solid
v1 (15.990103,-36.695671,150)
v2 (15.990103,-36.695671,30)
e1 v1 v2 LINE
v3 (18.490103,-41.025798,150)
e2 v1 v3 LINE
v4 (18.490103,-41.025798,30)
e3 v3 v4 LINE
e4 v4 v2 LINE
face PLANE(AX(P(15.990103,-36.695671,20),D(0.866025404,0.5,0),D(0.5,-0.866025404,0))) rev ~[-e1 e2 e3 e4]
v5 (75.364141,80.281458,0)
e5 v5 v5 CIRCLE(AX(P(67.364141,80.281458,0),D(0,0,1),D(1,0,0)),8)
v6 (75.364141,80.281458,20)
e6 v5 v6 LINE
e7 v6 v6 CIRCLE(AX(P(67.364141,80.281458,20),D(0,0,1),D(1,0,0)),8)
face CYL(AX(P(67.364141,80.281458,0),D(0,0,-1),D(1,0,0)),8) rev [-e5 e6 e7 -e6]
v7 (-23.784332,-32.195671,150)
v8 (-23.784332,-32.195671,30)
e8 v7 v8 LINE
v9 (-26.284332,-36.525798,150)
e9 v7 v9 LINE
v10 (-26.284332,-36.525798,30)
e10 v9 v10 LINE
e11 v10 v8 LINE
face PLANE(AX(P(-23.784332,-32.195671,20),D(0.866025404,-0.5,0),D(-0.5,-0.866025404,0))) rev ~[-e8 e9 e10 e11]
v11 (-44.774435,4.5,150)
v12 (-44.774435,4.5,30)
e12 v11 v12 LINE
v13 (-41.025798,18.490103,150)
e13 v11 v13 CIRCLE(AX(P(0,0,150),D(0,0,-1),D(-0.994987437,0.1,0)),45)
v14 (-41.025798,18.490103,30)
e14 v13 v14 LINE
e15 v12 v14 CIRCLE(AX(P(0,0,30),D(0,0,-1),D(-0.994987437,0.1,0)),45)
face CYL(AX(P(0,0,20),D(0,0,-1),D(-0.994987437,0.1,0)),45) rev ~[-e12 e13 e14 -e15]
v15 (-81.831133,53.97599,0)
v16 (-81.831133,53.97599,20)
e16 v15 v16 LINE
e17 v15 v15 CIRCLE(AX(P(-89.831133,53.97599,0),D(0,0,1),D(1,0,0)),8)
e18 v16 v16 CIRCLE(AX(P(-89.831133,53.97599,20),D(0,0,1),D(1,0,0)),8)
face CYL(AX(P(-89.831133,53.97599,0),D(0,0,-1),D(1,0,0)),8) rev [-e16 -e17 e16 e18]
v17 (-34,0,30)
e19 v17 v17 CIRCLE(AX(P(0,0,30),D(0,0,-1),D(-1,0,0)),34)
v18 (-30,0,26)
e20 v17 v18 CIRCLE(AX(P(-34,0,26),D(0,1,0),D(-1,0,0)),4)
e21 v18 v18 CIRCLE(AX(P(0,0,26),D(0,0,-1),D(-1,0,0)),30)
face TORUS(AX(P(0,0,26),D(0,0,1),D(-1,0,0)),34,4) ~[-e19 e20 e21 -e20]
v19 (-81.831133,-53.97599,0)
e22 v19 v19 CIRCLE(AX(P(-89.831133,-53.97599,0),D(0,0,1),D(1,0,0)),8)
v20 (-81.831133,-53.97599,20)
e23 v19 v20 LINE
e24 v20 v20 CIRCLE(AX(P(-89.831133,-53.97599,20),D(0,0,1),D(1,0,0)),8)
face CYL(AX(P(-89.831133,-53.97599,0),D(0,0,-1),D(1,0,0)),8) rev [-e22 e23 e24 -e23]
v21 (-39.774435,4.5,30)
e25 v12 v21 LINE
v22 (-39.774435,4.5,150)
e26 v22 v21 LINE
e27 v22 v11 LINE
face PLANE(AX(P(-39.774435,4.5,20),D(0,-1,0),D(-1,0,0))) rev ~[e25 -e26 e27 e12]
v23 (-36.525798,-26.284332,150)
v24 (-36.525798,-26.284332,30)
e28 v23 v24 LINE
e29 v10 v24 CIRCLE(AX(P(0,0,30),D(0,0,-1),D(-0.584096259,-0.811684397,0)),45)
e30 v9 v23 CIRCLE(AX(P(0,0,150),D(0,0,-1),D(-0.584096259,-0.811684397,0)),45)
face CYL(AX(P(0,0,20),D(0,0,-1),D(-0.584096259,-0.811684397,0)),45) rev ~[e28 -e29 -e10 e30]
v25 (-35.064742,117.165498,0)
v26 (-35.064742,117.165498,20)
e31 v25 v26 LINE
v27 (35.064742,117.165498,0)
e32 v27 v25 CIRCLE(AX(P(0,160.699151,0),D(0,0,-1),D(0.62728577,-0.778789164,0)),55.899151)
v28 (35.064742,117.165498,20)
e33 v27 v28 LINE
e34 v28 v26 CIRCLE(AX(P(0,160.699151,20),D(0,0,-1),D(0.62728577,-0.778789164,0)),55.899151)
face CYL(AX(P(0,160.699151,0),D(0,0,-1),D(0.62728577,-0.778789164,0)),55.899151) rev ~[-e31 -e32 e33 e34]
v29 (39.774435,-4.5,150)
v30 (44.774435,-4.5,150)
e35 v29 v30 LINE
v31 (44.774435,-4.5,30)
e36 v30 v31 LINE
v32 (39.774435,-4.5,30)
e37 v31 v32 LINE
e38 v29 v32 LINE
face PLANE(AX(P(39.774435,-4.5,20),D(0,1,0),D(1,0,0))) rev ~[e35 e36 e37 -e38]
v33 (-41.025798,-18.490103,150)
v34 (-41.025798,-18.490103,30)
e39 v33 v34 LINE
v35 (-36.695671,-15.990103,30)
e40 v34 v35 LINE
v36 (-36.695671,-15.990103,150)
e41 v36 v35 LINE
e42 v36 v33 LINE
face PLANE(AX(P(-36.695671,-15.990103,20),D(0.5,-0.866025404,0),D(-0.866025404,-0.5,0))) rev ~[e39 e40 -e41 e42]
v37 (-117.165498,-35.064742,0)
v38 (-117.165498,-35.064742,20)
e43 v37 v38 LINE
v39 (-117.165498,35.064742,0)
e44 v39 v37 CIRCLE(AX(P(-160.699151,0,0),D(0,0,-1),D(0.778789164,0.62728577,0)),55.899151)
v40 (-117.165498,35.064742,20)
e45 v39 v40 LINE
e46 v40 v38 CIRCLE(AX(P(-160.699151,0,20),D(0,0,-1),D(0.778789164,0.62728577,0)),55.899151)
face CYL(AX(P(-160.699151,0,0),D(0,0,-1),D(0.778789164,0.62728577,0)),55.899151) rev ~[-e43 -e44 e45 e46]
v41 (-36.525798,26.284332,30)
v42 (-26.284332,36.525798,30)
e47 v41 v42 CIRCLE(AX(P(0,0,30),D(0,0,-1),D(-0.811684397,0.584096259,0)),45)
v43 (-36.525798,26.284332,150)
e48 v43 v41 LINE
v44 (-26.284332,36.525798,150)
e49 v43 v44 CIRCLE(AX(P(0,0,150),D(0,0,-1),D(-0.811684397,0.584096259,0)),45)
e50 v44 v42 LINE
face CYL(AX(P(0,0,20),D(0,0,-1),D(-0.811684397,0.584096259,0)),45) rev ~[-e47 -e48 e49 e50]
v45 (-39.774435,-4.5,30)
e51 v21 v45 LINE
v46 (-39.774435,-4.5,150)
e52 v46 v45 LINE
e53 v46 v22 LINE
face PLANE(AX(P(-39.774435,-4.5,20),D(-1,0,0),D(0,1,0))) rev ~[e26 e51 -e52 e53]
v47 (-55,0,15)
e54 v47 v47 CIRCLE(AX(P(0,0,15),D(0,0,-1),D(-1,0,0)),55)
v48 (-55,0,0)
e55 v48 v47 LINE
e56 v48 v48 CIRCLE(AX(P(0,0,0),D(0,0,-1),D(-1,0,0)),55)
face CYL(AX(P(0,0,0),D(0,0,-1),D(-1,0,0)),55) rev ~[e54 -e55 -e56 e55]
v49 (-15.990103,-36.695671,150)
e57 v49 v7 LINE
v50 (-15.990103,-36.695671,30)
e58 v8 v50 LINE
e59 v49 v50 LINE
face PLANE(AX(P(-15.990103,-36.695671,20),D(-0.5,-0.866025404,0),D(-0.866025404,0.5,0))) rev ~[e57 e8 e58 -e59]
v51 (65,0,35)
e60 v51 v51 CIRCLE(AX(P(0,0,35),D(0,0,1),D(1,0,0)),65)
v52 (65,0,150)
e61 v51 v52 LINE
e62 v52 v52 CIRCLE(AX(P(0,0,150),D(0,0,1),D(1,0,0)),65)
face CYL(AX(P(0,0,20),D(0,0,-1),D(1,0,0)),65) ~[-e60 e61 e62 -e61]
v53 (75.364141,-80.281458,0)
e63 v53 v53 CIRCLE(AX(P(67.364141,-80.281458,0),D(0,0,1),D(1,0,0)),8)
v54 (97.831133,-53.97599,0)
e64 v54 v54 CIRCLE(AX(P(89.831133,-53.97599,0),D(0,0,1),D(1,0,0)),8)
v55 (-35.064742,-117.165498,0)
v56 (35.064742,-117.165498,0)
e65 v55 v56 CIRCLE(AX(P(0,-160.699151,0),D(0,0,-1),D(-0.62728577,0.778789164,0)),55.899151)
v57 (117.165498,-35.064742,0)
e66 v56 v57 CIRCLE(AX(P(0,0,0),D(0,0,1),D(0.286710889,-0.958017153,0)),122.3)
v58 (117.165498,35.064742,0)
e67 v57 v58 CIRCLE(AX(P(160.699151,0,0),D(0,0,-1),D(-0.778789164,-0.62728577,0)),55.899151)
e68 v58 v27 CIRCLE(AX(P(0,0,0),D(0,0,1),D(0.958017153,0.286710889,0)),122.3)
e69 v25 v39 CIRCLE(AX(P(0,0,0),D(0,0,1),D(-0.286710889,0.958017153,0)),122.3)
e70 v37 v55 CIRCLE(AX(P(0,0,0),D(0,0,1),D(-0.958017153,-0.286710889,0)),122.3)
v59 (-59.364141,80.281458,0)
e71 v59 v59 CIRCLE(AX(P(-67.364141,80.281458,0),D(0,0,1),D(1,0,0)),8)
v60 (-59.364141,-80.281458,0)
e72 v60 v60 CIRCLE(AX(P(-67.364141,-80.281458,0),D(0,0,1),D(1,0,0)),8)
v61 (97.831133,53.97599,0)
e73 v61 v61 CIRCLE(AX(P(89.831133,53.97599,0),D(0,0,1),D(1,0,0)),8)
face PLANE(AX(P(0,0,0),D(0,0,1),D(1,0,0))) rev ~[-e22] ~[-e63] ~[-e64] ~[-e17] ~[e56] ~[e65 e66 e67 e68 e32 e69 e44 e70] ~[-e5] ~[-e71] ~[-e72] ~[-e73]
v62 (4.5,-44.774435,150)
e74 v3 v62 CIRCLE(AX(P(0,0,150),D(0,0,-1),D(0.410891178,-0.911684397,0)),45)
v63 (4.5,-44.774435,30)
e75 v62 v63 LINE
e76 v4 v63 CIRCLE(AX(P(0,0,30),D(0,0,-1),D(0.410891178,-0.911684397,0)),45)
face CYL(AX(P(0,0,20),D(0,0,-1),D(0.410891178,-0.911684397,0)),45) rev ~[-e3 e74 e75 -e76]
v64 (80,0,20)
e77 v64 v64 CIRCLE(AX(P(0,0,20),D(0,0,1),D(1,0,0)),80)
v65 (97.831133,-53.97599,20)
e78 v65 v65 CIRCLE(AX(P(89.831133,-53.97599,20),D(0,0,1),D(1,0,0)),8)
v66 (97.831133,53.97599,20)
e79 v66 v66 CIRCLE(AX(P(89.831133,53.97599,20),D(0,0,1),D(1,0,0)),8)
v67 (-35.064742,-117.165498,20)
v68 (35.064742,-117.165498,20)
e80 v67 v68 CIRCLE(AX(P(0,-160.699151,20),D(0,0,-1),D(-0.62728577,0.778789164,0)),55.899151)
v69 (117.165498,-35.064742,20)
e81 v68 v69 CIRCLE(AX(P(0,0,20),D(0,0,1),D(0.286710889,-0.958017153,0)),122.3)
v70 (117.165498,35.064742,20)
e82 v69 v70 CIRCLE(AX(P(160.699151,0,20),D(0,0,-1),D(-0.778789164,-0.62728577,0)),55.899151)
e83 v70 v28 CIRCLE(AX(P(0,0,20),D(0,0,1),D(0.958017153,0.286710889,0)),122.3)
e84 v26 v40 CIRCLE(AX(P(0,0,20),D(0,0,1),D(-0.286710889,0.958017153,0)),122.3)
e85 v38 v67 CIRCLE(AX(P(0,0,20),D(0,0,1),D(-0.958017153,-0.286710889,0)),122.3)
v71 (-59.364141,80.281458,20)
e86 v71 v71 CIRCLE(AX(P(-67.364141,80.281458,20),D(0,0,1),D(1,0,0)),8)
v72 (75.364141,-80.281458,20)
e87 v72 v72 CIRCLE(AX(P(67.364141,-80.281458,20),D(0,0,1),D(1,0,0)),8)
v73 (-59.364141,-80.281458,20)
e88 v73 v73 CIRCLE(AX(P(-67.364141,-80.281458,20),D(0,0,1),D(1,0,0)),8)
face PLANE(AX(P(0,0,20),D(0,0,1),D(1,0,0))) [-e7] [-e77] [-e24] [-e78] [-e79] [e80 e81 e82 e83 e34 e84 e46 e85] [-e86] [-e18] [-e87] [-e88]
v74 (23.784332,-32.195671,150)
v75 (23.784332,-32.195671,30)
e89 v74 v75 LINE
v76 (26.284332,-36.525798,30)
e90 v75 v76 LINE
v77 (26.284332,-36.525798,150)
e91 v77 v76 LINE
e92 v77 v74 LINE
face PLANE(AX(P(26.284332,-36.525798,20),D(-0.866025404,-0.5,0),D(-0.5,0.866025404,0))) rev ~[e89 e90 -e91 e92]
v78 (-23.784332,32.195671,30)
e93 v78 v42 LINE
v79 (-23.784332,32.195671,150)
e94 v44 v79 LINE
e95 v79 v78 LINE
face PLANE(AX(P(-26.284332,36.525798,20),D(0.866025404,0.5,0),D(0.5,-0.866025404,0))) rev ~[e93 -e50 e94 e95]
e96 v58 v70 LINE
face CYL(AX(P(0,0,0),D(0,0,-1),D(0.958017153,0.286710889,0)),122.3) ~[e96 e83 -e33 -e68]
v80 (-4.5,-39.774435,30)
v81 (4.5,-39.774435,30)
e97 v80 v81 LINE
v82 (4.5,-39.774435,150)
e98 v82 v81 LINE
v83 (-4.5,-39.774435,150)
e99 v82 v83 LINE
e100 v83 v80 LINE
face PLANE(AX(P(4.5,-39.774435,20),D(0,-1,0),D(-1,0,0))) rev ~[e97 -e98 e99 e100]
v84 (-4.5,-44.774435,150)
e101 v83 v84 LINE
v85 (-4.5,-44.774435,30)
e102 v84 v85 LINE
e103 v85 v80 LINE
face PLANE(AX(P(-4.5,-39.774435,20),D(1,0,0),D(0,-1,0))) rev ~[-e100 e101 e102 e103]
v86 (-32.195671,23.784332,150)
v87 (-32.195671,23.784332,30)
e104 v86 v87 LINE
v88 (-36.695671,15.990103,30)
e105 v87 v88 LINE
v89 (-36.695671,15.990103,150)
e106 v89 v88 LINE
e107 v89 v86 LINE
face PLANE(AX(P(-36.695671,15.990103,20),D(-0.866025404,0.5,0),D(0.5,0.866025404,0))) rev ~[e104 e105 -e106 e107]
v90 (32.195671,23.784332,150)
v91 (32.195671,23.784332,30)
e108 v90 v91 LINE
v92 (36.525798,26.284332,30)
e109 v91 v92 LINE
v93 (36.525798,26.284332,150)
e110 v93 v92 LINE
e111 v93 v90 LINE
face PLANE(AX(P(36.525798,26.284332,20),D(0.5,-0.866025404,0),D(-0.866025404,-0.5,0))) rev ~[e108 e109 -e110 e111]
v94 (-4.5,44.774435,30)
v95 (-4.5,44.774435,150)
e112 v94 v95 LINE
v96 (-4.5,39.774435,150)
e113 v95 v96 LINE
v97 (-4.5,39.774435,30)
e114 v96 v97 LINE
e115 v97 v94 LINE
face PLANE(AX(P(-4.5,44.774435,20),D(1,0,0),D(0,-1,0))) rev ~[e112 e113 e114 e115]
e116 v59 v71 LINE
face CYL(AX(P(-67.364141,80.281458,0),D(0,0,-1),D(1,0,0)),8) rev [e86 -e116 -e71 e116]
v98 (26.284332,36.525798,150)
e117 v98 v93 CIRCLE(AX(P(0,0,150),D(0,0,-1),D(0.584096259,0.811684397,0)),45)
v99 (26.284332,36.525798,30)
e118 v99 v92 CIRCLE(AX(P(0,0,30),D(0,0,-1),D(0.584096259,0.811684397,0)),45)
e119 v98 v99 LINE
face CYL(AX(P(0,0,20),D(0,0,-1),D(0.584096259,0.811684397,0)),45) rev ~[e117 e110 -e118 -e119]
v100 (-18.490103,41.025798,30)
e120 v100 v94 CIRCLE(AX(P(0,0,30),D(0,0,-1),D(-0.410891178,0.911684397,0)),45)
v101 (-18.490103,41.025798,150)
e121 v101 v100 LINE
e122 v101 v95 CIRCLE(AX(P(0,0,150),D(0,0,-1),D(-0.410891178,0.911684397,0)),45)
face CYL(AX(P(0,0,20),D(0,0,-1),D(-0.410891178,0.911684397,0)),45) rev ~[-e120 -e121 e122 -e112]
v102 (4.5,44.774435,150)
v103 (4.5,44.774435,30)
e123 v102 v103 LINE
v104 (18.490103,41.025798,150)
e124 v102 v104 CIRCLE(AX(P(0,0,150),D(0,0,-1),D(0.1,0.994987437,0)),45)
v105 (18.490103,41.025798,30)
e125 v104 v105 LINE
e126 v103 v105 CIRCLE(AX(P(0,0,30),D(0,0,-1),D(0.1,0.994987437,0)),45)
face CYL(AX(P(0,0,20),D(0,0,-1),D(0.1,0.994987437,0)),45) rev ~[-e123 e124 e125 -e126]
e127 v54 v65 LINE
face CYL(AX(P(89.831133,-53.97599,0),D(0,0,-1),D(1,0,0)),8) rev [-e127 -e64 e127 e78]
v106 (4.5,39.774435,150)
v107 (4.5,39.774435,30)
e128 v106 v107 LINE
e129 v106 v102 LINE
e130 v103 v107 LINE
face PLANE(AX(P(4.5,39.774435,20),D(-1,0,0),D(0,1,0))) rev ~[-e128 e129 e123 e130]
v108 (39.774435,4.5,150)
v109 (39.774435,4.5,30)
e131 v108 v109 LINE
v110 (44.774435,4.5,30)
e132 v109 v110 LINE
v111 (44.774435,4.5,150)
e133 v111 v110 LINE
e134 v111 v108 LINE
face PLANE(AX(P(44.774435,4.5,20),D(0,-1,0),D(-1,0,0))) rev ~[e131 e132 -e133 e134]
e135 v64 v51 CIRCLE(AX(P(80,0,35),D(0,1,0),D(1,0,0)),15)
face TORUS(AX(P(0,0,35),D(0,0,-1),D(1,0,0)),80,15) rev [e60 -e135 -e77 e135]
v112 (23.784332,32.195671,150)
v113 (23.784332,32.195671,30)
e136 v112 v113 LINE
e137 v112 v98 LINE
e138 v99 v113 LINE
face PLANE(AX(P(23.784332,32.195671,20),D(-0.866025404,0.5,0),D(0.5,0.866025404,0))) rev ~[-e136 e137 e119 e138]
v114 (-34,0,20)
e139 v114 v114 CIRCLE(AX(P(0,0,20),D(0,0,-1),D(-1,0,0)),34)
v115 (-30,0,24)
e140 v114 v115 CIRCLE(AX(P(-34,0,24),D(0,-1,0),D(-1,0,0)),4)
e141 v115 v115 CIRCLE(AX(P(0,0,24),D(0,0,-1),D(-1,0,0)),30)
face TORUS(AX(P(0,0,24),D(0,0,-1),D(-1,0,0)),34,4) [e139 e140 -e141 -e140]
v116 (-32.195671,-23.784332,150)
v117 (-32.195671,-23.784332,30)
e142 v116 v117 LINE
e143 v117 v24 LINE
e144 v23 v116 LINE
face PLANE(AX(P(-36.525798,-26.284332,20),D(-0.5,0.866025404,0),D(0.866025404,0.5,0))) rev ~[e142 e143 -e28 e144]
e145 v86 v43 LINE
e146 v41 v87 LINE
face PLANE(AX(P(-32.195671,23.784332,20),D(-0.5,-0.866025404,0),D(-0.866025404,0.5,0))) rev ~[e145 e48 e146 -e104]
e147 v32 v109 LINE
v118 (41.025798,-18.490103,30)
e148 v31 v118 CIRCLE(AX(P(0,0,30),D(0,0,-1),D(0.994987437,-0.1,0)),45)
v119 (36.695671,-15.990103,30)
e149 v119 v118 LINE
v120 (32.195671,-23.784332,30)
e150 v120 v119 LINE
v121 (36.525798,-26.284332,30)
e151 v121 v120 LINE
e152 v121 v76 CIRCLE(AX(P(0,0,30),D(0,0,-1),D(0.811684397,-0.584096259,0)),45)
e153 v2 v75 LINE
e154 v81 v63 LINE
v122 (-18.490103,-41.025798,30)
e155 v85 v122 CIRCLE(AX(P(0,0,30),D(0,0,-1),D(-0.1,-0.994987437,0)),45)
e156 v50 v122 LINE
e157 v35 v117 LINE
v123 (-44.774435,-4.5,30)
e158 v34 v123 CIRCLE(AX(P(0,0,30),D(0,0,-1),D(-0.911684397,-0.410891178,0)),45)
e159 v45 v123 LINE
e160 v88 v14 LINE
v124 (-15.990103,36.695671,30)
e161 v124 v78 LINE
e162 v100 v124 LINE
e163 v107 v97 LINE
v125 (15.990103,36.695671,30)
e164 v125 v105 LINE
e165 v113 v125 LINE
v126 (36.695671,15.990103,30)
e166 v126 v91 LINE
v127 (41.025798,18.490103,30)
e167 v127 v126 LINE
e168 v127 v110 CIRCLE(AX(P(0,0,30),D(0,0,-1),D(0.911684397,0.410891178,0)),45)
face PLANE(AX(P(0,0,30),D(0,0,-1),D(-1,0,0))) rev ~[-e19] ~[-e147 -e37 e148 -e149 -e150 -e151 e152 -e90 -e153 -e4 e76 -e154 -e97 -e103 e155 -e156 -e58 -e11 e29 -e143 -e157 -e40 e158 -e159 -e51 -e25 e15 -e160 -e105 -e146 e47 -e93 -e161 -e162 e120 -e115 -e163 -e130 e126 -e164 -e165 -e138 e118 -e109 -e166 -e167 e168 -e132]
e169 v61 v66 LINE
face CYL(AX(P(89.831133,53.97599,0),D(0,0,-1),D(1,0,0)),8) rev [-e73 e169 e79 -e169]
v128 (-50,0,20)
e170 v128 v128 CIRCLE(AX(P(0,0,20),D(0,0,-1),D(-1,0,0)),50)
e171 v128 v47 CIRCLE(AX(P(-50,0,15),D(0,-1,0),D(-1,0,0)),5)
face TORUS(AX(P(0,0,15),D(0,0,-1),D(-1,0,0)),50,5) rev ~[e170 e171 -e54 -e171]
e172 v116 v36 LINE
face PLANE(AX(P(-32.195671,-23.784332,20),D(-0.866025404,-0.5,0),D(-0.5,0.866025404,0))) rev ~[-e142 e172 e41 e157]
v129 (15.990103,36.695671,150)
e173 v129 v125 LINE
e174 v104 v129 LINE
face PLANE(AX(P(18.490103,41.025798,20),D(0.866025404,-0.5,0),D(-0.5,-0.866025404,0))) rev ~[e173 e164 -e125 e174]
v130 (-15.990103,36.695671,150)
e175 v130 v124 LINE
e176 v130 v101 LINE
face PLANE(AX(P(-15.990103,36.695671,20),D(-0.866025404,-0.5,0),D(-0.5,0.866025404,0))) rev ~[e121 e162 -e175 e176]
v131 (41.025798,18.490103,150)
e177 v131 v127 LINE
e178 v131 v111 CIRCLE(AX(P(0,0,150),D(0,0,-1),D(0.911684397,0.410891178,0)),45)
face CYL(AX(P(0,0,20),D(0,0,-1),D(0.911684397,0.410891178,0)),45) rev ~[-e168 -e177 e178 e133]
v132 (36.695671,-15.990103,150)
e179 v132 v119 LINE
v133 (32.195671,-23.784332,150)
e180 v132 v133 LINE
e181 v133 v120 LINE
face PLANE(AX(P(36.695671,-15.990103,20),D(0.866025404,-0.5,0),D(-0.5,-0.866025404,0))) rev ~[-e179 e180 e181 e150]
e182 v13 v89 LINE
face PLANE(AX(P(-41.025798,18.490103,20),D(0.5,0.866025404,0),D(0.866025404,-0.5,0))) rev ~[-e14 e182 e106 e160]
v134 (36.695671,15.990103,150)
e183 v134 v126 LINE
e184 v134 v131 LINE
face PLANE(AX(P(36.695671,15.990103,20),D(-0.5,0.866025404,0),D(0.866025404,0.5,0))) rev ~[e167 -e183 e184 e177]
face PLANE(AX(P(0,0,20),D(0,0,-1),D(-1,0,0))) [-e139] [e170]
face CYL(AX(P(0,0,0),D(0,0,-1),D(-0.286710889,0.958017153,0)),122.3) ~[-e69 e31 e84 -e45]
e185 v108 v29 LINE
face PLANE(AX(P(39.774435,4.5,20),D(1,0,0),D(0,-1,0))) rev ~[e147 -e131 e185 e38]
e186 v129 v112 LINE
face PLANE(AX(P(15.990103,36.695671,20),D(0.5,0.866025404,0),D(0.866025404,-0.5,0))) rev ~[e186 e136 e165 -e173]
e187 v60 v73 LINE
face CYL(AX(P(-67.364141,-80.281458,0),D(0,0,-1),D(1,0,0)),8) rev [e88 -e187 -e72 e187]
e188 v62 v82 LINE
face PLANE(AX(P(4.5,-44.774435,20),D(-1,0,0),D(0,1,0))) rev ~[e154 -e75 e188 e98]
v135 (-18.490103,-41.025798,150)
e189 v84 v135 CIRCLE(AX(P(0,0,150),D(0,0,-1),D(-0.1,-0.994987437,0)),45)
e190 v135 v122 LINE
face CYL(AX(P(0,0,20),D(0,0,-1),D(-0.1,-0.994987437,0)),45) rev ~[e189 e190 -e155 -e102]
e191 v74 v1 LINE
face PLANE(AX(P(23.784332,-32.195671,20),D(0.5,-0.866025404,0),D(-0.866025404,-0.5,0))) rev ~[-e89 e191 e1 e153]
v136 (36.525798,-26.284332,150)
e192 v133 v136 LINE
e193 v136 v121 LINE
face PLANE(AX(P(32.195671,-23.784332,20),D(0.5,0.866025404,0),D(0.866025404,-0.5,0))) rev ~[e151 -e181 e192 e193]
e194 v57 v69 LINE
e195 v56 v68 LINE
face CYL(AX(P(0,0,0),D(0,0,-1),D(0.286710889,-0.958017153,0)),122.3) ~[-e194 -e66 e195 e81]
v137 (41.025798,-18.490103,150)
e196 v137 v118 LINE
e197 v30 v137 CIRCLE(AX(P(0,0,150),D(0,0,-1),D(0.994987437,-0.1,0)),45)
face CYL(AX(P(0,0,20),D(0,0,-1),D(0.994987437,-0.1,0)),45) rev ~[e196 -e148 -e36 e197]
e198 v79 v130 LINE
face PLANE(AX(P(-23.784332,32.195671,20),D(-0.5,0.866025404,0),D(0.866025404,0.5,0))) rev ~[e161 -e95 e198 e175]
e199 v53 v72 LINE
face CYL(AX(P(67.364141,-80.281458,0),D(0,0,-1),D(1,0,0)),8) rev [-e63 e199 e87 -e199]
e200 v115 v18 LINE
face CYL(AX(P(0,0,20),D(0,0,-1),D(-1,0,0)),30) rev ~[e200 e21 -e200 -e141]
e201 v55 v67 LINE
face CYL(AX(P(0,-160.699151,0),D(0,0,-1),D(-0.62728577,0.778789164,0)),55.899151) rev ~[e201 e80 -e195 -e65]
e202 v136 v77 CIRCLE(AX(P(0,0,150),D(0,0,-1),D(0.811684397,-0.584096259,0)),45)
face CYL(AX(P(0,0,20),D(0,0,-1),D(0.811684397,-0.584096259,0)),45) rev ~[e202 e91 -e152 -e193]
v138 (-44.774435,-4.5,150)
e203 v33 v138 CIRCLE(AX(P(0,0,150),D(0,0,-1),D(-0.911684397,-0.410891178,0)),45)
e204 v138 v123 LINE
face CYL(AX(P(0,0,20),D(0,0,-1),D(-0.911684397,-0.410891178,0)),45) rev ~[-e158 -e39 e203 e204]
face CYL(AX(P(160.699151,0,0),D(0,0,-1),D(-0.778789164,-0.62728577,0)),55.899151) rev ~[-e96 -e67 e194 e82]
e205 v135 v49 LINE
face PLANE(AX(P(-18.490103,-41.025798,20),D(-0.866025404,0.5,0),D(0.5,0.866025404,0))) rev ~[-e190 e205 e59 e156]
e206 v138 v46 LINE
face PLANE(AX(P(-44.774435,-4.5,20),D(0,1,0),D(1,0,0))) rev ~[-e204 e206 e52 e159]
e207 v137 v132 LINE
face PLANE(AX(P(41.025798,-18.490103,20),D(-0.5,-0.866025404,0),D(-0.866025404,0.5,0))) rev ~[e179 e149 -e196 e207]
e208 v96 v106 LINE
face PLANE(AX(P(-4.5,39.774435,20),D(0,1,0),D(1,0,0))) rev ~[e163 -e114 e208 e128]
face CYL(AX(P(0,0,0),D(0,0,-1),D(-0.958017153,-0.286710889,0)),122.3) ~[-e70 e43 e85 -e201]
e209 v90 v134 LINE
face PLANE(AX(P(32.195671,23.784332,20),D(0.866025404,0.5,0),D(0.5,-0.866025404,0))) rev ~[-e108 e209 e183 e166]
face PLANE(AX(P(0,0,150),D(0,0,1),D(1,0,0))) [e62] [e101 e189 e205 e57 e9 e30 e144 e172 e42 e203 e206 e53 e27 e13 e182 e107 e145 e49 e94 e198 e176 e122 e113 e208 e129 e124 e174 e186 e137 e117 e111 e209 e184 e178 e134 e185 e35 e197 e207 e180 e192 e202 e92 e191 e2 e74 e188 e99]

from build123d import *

# Parameters (mm, degrees)
SKETCH1_R           = 8
BOSS_EXTRUDE1_DEPTH = 20
BOSS_EXTRUDE2_START = 20
SKETCH1_3_R         = 65
BOSS_EXTRUDE2_DEPTH = 130
SKETCH2_R           = 55
SKETCH2_R_2         = 30
CUT_EXTRUDE1_DEPTH  = 20
BOSS_EXTRUDE3_START = -20
SKETCH2_2_R         = 55
SKETCH2_2_R_2       = 30
BOSS_EXTRUDE3_DEPTH = 10
FILLET1_R           = 15
FILLET2_R           = 4
FILLET3_R           = 5


with BuildPart() as part:
    # Sketch1 → Boss-Extrude1 (new body)
    with BuildSketch(Plane.XY):
        with BuildLine():
            ThreePointArc((117.165497838, -35.064741783), (104.8, 0), (117.165497838, 35.064741783))
            ThreePointArc((117.165497838, 35.064741783), (86.479159339, 86.479159339), (35.064741783, 117.165497838))
            ThreePointArc((35.064741783, 117.165497838), (0, 104.8), (-35.064741783, 117.165497838))
            ThreePointArc((-35.064741783, 117.165497838), (-86.479159339, 86.479159339), (-117.165497838, 35.064741783))
            ThreePointArc((-117.165497838, 35.064741783), (-104.8, 0), (-117.165497838, -35.064741783))
            ThreePointArc((-117.165497838, -35.064741783), (-86.479159339, -86.479159339), (-35.064741783, -117.165497838))
            ThreePointArc((-35.064741783, -117.165497838), (0, -104.8), (35.064741783, -117.165497838))
            ThreePointArc((35.064741783, -117.165497838), (86.479159339, -86.479159339), (117.165497838, -35.064741783))
        make_face()
        with Locations((-67.364141495, -80.281457639)):
            Circle(SKETCH1_R, mode=Mode.SUBTRACT)
        with Locations((-89.831133114, -53.975990251)):
            Circle(SKETCH1_R, mode=Mode.SUBTRACT)
        with Locations((67.364141495, -80.281457639)):
            Circle(SKETCH1_R, mode=Mode.SUBTRACT)
        with Locations((89.831133114, -53.975990251)):
            Circle(SKETCH1_R, mode=Mode.SUBTRACT)
        with Locations((-89.831133114, 53.975990251)):
            Circle(SKETCH1_R, mode=Mode.SUBTRACT)
        with Locations((-67.364141495, 80.281457639)):
            Circle(SKETCH1_R, mode=Mode.SUBTRACT)
        with Locations((89.831133114, 53.975990251)):
            Circle(SKETCH1_R, mode=Mode.SUBTRACT)
        with Locations((67.364141495, 80.281457639)):
            Circle(SKETCH1_R, mode=Mode.SUBTRACT)
        with BuildLine():
            Line((-4.5, 44.77443467), (-4.5, 39.77443467))
            Line((-4.5, 39.77443467), (4.5, 39.77443467))
            Line((4.5, 39.77443467), (4.5, 44.77443467))
            ThreePointArc((4.5, 44.77443467), (11.64685703, 43.466662183), (18.490103018, 41.025797864))
            Line((18.490103018, 41.025797864), (15.990103018, 36.695670845))
            Line((15.990103018, 36.695670845), (23.784331652, 32.195670845))
            Line((23.784331652, 32.195670845), (26.284331652, 36.525797864))
            ThreePointArc((26.284331652, 36.525797864), (31.819805153, 31.819805153), (36.525797864, 26.284331652))
            Line((36.525797864, 26.284331652), (32.195670845, 23.784331652))
            Line((32.195670845, 23.784331652), (36.695670845, 15.990103018))
            Line((36.695670845, 15.990103018), (41.025797864, 18.490103018))
            ThreePointArc((41.025797864, 18.490103018), (43.466662183, 11.64685703), (44.77443467, 4.5))
            Line((44.77443467, 4.5), (39.77443467, 4.5))
            Line((39.77443467, 4.5), (39.77443467, -4.5))
            Line((39.77443467, -4.5), (44.77443467, -4.5))
            ThreePointArc((44.77443467, -4.5), (43.466662183, -11.64685703), (41.025797864, -18.490103018))
            Line((41.025797864, -18.490103018), (36.695670845, -15.990103018))
            Line((36.695670845, -15.990103018), (32.195670845, -23.784331652))
            Line((32.195670845, -23.784331652), (36.525797864, -26.284331652))
            ThreePointArc((36.525797864, -26.284331652), (31.819805153, -31.819805153), (26.284331652, -36.525797864))
            Line((26.284331652, -36.525797864), (23.784331652, -32.195670845))
            Line((23.784331652, -32.195670845), (15.990103018, -36.695670845))
            Line((15.990103018, -36.695670845), (18.490103018, -41.025797864))
            ThreePointArc((18.490103018, -41.025797864), (11.64685703, -43.466662183), (4.5, -44.77443467))
            Line((4.5, -44.77443467), (4.5, -39.77443467))
            Line((4.5, -39.77443467), (-4.5, -39.77443467))
            Line((-4.5, -39.77443467), (-4.5, -44.77443467))
            ThreePointArc((-4.5, -44.77443467), (-11.64685703, -43.466662183), (-18.490103018, -41.025797864))
            Line((-18.490103018, -41.025797864), (-15.990103018, -36.695670845))
            Line((-15.990103018, -36.695670845), (-23.784331652, -32.195670845))
            Line((-23.784331652, -32.195670845), (-26.284331652, -36.525797864))
            ThreePointArc((-26.284331652, -36.525797864), (-31.819805153, -31.819805153), (-36.525797864, -26.284331652))
            Line((-36.525797864, -26.284331652), (-32.195670845, -23.784331652))
            Line((-32.195670845, -23.784331652), (-36.695670845, -15.990103018))
            Line((-36.695670845, -15.990103018), (-41.025797864, -18.490103018))
            ThreePointArc((-41.025797864, -18.490103018), (-43.466662183, -11.64685703), (-44.77443467, -4.5))
            Line((-44.77443467, -4.5), (-39.77443467, -4.5))
            Line((-39.77443467, -4.5), (-39.77443467, 4.5))
            Line((-39.77443467, 4.5), (-44.77443467, 4.5))
            ThreePointArc((-44.77443467, 4.5), (-43.466662183, 11.64685703), (-41.025797864, 18.490103018))
            Line((-41.025797864, 18.490103018), (-36.695670845, 15.990103018))
            Line((-36.695670845, 15.990103018), (-32.195670845, 23.784331652))
            Line((-32.195670845, 23.784331652), (-36.525797864, 26.284331652))
            ThreePointArc((-36.525797864, 26.284331652), (-31.819805153, 31.819805153), (-26.284331652, 36.525797864))
            Line((-26.284331652, 36.525797864), (-23.784331652, 32.195670845))
            Line((-23.784331652, 32.195670845), (-15.990103018, 36.695670845))
            Line((-15.990103018, 36.695670845), (-18.490103018, 41.025797864))
            ThreePointArc((-18.490103018, 41.025797864), (-11.64685703, 43.466662183), (-4.5, 44.77443467))
        make_face(mode=Mode.SUBTRACT)
    extrude(amount=BOSS_EXTRUDE1_DEPTH)

    # Sketch1<3> → Boss-Extrude2 (add)
    with BuildSketch(Plane.XY.offset(BOSS_EXTRUDE2_START)):
        Circle(SKETCH1_3_R)
        with BuildLine():
            Line((-4.5, 44.77443467), (-4.5, 39.77443467))
            Line((-4.5, 39.77443467), (4.5, 39.77443467))
            Line((4.5, 39.77443467), (4.5, 44.77443467))
            ThreePointArc((4.5, 44.77443467), (11.64685703, 43.466662183), (18.490103018, 41.025797864))
            Line((18.490103018, 41.025797864), (15.990103018, 36.695670845))
            Line((15.990103018, 36.695670845), (23.784331652, 32.195670845))
            Line((23.784331652, 32.195670845), (26.284331652, 36.525797864))
            ThreePointArc((26.284331652, 36.525797864), (31.819805153, 31.819805153), (36.525797864, 26.284331652))
            Line((36.525797864, 26.284331652), (32.195670845, 23.784331652))
            Line((32.195670845, 23.784331652), (36.695670845, 15.990103018))
            Line((36.695670845, 15.990103018), (41.025797864, 18.490103018))
            ThreePointArc((41.025797864, 18.490103018), (43.466662183, 11.64685703), (44.77443467, 4.5))
            Line((44.77443467, 4.5), (39.77443467, 4.5))
            Line((39.77443467, 4.5), (39.77443467, -4.5))
            Line((39.77443467, -4.5), (44.77443467, -4.5))
            ThreePointArc((44.77443467, -4.5), (43.466662183, -11.64685703), (41.025797864, -18.490103018))
            Line((41.025797864, -18.490103018), (36.695670845, -15.990103018))
            Line((36.695670845, -15.990103018), (32.195670845, -23.784331652))
            Line((32.195670845, -23.784331652), (36.525797864, -26.284331652))
            ThreePointArc((36.525797864, -26.284331652), (31.819805153, -31.819805153), (26.284331652, -36.525797864))
            Line((26.284331652, -36.525797864), (23.784331652, -32.195670845))
            Line((23.784331652, -32.195670845), (15.990103018, -36.695670845))
            Line((15.990103018, -36.695670845), (18.490103018, -41.025797864))
            ThreePointArc((18.490103018, -41.025797864), (11.64685703, -43.466662183), (4.5, -44.77443467))
            Line((4.5, -44.77443467), (4.5, -39.77443467))
            Line((4.5, -39.77443467), (-4.5, -39.77443467))
            Line((-4.5, -39.77443467), (-4.5, -44.77443467))
            ThreePointArc((-4.5, -44.77443467), (-11.64685703, -43.466662183), (-18.490103018, -41.025797864))
            Line((-18.490103018, -41.025797864), (-15.990103018, -36.695670845))
            Line((-15.990103018, -36.695670845), (-23.784331652, -32.195670845))
            Line((-23.784331652, -32.195670845), (-26.284331652, -36.525797864))
            ThreePointArc((-26.284331652, -36.525797864), (-31.819805153, -31.819805153), (-36.525797864, -26.284331652))
            Line((-36.525797864, -26.284331652), (-32.195670845, -23.784331652))
            Line((-32.195670845, -23.784331652), (-36.695670845, -15.990103018))
            Line((-36.695670845, -15.990103018), (-41.025797864, -18.490103018))
            ThreePointArc((-41.025797864, -18.490103018), (-43.466662183, -11.64685703), (-44.77443467, -4.5))
            Line((-44.77443467, -4.5), (-39.77443467, -4.5))
            Line((-39.77443467, -4.5), (-39.77443467, 4.5))
            Line((-39.77443467, 4.5), (-44.77443467, 4.5))
            ThreePointArc((-44.77443467, 4.5), (-43.466662183, 11.64685703), (-41.025797864, 18.490103018))
            Line((-41.025797864, 18.490103018), (-36.695670845, 15.990103018))
            Line((-36.695670845, 15.990103018), (-32.195670845, 23.784331652))
            Line((-32.195670845, 23.784331652), (-36.525797864, 26.284331652))
            ThreePointArc((-36.525797864, 26.284331652), (-31.819805153, 31.819805153), (-26.284331652, 36.525797864))
            Line((-26.284331652, 36.525797864), (-23.784331652, 32.195670845))
            Line((-23.784331652, 32.195670845), (-15.990103018, 36.695670845))
            Line((-15.990103018, 36.695670845), (-18.490103018, 41.025797864))
            ThreePointArc((-18.490103018, 41.025797864), (-11.64685703, 43.466662183), (-4.5, 44.77443467))
        make_face(mode=Mode.SUBTRACT)
    extrude(amount=BOSS_EXTRUDE2_DEPTH)

    # Sketch2 → Cut-Extrude1 (cut)
    with BuildSketch(Plane(origin=(0, 0, 0), x_dir=(-1, 0, 0), z_dir=(0, 0, -1))):
        Circle(SKETCH2_R)
        Circle(SKETCH2_R_2, mode=Mode.SUBTRACT)
    extrude(amount=-CUT_EXTRUDE1_DEPTH, mode=Mode.SUBTRACT)

    # Sketch2<2> → Boss-Extrude3 (add)
    with BuildSketch(Plane(origin=(0, 0, 0), x_dir=(-1, 0, 0), z_dir=(0, 0, -1)).offset(BOSS_EXTRUDE3_START)):
        Circle(SKETCH2_2_R)
        Circle(SKETCH2_2_R_2, mode=Mode.SUBTRACT)
    extrude(amount=-BOSS_EXTRUDE3_DEPTH)

    # Fillet1
    fillet1_edges = [part.edges().sort_by_distance(p)[0] for p in [
        (-65, 0, 20),
    ]]
    fillet(fillet1_edges, radius=FILLET1_R)

    # Fillet2
    fillet2_edges = [part.edges().sort_by_distance(p)[0] for p in [
        (30, 0, 30),
        (30, 0, 20),
    ]]
    fillet(fillet2_edges, radius=FILLET2_R)

    # Fillet3
    fillet3_edges = [part.edges().sort_by_distance(p)[0] for p in [
        (55, 0, 20),
    ]]
    fillet(fillet3_edges, radius=FILLET3_R)


solid = part.part
